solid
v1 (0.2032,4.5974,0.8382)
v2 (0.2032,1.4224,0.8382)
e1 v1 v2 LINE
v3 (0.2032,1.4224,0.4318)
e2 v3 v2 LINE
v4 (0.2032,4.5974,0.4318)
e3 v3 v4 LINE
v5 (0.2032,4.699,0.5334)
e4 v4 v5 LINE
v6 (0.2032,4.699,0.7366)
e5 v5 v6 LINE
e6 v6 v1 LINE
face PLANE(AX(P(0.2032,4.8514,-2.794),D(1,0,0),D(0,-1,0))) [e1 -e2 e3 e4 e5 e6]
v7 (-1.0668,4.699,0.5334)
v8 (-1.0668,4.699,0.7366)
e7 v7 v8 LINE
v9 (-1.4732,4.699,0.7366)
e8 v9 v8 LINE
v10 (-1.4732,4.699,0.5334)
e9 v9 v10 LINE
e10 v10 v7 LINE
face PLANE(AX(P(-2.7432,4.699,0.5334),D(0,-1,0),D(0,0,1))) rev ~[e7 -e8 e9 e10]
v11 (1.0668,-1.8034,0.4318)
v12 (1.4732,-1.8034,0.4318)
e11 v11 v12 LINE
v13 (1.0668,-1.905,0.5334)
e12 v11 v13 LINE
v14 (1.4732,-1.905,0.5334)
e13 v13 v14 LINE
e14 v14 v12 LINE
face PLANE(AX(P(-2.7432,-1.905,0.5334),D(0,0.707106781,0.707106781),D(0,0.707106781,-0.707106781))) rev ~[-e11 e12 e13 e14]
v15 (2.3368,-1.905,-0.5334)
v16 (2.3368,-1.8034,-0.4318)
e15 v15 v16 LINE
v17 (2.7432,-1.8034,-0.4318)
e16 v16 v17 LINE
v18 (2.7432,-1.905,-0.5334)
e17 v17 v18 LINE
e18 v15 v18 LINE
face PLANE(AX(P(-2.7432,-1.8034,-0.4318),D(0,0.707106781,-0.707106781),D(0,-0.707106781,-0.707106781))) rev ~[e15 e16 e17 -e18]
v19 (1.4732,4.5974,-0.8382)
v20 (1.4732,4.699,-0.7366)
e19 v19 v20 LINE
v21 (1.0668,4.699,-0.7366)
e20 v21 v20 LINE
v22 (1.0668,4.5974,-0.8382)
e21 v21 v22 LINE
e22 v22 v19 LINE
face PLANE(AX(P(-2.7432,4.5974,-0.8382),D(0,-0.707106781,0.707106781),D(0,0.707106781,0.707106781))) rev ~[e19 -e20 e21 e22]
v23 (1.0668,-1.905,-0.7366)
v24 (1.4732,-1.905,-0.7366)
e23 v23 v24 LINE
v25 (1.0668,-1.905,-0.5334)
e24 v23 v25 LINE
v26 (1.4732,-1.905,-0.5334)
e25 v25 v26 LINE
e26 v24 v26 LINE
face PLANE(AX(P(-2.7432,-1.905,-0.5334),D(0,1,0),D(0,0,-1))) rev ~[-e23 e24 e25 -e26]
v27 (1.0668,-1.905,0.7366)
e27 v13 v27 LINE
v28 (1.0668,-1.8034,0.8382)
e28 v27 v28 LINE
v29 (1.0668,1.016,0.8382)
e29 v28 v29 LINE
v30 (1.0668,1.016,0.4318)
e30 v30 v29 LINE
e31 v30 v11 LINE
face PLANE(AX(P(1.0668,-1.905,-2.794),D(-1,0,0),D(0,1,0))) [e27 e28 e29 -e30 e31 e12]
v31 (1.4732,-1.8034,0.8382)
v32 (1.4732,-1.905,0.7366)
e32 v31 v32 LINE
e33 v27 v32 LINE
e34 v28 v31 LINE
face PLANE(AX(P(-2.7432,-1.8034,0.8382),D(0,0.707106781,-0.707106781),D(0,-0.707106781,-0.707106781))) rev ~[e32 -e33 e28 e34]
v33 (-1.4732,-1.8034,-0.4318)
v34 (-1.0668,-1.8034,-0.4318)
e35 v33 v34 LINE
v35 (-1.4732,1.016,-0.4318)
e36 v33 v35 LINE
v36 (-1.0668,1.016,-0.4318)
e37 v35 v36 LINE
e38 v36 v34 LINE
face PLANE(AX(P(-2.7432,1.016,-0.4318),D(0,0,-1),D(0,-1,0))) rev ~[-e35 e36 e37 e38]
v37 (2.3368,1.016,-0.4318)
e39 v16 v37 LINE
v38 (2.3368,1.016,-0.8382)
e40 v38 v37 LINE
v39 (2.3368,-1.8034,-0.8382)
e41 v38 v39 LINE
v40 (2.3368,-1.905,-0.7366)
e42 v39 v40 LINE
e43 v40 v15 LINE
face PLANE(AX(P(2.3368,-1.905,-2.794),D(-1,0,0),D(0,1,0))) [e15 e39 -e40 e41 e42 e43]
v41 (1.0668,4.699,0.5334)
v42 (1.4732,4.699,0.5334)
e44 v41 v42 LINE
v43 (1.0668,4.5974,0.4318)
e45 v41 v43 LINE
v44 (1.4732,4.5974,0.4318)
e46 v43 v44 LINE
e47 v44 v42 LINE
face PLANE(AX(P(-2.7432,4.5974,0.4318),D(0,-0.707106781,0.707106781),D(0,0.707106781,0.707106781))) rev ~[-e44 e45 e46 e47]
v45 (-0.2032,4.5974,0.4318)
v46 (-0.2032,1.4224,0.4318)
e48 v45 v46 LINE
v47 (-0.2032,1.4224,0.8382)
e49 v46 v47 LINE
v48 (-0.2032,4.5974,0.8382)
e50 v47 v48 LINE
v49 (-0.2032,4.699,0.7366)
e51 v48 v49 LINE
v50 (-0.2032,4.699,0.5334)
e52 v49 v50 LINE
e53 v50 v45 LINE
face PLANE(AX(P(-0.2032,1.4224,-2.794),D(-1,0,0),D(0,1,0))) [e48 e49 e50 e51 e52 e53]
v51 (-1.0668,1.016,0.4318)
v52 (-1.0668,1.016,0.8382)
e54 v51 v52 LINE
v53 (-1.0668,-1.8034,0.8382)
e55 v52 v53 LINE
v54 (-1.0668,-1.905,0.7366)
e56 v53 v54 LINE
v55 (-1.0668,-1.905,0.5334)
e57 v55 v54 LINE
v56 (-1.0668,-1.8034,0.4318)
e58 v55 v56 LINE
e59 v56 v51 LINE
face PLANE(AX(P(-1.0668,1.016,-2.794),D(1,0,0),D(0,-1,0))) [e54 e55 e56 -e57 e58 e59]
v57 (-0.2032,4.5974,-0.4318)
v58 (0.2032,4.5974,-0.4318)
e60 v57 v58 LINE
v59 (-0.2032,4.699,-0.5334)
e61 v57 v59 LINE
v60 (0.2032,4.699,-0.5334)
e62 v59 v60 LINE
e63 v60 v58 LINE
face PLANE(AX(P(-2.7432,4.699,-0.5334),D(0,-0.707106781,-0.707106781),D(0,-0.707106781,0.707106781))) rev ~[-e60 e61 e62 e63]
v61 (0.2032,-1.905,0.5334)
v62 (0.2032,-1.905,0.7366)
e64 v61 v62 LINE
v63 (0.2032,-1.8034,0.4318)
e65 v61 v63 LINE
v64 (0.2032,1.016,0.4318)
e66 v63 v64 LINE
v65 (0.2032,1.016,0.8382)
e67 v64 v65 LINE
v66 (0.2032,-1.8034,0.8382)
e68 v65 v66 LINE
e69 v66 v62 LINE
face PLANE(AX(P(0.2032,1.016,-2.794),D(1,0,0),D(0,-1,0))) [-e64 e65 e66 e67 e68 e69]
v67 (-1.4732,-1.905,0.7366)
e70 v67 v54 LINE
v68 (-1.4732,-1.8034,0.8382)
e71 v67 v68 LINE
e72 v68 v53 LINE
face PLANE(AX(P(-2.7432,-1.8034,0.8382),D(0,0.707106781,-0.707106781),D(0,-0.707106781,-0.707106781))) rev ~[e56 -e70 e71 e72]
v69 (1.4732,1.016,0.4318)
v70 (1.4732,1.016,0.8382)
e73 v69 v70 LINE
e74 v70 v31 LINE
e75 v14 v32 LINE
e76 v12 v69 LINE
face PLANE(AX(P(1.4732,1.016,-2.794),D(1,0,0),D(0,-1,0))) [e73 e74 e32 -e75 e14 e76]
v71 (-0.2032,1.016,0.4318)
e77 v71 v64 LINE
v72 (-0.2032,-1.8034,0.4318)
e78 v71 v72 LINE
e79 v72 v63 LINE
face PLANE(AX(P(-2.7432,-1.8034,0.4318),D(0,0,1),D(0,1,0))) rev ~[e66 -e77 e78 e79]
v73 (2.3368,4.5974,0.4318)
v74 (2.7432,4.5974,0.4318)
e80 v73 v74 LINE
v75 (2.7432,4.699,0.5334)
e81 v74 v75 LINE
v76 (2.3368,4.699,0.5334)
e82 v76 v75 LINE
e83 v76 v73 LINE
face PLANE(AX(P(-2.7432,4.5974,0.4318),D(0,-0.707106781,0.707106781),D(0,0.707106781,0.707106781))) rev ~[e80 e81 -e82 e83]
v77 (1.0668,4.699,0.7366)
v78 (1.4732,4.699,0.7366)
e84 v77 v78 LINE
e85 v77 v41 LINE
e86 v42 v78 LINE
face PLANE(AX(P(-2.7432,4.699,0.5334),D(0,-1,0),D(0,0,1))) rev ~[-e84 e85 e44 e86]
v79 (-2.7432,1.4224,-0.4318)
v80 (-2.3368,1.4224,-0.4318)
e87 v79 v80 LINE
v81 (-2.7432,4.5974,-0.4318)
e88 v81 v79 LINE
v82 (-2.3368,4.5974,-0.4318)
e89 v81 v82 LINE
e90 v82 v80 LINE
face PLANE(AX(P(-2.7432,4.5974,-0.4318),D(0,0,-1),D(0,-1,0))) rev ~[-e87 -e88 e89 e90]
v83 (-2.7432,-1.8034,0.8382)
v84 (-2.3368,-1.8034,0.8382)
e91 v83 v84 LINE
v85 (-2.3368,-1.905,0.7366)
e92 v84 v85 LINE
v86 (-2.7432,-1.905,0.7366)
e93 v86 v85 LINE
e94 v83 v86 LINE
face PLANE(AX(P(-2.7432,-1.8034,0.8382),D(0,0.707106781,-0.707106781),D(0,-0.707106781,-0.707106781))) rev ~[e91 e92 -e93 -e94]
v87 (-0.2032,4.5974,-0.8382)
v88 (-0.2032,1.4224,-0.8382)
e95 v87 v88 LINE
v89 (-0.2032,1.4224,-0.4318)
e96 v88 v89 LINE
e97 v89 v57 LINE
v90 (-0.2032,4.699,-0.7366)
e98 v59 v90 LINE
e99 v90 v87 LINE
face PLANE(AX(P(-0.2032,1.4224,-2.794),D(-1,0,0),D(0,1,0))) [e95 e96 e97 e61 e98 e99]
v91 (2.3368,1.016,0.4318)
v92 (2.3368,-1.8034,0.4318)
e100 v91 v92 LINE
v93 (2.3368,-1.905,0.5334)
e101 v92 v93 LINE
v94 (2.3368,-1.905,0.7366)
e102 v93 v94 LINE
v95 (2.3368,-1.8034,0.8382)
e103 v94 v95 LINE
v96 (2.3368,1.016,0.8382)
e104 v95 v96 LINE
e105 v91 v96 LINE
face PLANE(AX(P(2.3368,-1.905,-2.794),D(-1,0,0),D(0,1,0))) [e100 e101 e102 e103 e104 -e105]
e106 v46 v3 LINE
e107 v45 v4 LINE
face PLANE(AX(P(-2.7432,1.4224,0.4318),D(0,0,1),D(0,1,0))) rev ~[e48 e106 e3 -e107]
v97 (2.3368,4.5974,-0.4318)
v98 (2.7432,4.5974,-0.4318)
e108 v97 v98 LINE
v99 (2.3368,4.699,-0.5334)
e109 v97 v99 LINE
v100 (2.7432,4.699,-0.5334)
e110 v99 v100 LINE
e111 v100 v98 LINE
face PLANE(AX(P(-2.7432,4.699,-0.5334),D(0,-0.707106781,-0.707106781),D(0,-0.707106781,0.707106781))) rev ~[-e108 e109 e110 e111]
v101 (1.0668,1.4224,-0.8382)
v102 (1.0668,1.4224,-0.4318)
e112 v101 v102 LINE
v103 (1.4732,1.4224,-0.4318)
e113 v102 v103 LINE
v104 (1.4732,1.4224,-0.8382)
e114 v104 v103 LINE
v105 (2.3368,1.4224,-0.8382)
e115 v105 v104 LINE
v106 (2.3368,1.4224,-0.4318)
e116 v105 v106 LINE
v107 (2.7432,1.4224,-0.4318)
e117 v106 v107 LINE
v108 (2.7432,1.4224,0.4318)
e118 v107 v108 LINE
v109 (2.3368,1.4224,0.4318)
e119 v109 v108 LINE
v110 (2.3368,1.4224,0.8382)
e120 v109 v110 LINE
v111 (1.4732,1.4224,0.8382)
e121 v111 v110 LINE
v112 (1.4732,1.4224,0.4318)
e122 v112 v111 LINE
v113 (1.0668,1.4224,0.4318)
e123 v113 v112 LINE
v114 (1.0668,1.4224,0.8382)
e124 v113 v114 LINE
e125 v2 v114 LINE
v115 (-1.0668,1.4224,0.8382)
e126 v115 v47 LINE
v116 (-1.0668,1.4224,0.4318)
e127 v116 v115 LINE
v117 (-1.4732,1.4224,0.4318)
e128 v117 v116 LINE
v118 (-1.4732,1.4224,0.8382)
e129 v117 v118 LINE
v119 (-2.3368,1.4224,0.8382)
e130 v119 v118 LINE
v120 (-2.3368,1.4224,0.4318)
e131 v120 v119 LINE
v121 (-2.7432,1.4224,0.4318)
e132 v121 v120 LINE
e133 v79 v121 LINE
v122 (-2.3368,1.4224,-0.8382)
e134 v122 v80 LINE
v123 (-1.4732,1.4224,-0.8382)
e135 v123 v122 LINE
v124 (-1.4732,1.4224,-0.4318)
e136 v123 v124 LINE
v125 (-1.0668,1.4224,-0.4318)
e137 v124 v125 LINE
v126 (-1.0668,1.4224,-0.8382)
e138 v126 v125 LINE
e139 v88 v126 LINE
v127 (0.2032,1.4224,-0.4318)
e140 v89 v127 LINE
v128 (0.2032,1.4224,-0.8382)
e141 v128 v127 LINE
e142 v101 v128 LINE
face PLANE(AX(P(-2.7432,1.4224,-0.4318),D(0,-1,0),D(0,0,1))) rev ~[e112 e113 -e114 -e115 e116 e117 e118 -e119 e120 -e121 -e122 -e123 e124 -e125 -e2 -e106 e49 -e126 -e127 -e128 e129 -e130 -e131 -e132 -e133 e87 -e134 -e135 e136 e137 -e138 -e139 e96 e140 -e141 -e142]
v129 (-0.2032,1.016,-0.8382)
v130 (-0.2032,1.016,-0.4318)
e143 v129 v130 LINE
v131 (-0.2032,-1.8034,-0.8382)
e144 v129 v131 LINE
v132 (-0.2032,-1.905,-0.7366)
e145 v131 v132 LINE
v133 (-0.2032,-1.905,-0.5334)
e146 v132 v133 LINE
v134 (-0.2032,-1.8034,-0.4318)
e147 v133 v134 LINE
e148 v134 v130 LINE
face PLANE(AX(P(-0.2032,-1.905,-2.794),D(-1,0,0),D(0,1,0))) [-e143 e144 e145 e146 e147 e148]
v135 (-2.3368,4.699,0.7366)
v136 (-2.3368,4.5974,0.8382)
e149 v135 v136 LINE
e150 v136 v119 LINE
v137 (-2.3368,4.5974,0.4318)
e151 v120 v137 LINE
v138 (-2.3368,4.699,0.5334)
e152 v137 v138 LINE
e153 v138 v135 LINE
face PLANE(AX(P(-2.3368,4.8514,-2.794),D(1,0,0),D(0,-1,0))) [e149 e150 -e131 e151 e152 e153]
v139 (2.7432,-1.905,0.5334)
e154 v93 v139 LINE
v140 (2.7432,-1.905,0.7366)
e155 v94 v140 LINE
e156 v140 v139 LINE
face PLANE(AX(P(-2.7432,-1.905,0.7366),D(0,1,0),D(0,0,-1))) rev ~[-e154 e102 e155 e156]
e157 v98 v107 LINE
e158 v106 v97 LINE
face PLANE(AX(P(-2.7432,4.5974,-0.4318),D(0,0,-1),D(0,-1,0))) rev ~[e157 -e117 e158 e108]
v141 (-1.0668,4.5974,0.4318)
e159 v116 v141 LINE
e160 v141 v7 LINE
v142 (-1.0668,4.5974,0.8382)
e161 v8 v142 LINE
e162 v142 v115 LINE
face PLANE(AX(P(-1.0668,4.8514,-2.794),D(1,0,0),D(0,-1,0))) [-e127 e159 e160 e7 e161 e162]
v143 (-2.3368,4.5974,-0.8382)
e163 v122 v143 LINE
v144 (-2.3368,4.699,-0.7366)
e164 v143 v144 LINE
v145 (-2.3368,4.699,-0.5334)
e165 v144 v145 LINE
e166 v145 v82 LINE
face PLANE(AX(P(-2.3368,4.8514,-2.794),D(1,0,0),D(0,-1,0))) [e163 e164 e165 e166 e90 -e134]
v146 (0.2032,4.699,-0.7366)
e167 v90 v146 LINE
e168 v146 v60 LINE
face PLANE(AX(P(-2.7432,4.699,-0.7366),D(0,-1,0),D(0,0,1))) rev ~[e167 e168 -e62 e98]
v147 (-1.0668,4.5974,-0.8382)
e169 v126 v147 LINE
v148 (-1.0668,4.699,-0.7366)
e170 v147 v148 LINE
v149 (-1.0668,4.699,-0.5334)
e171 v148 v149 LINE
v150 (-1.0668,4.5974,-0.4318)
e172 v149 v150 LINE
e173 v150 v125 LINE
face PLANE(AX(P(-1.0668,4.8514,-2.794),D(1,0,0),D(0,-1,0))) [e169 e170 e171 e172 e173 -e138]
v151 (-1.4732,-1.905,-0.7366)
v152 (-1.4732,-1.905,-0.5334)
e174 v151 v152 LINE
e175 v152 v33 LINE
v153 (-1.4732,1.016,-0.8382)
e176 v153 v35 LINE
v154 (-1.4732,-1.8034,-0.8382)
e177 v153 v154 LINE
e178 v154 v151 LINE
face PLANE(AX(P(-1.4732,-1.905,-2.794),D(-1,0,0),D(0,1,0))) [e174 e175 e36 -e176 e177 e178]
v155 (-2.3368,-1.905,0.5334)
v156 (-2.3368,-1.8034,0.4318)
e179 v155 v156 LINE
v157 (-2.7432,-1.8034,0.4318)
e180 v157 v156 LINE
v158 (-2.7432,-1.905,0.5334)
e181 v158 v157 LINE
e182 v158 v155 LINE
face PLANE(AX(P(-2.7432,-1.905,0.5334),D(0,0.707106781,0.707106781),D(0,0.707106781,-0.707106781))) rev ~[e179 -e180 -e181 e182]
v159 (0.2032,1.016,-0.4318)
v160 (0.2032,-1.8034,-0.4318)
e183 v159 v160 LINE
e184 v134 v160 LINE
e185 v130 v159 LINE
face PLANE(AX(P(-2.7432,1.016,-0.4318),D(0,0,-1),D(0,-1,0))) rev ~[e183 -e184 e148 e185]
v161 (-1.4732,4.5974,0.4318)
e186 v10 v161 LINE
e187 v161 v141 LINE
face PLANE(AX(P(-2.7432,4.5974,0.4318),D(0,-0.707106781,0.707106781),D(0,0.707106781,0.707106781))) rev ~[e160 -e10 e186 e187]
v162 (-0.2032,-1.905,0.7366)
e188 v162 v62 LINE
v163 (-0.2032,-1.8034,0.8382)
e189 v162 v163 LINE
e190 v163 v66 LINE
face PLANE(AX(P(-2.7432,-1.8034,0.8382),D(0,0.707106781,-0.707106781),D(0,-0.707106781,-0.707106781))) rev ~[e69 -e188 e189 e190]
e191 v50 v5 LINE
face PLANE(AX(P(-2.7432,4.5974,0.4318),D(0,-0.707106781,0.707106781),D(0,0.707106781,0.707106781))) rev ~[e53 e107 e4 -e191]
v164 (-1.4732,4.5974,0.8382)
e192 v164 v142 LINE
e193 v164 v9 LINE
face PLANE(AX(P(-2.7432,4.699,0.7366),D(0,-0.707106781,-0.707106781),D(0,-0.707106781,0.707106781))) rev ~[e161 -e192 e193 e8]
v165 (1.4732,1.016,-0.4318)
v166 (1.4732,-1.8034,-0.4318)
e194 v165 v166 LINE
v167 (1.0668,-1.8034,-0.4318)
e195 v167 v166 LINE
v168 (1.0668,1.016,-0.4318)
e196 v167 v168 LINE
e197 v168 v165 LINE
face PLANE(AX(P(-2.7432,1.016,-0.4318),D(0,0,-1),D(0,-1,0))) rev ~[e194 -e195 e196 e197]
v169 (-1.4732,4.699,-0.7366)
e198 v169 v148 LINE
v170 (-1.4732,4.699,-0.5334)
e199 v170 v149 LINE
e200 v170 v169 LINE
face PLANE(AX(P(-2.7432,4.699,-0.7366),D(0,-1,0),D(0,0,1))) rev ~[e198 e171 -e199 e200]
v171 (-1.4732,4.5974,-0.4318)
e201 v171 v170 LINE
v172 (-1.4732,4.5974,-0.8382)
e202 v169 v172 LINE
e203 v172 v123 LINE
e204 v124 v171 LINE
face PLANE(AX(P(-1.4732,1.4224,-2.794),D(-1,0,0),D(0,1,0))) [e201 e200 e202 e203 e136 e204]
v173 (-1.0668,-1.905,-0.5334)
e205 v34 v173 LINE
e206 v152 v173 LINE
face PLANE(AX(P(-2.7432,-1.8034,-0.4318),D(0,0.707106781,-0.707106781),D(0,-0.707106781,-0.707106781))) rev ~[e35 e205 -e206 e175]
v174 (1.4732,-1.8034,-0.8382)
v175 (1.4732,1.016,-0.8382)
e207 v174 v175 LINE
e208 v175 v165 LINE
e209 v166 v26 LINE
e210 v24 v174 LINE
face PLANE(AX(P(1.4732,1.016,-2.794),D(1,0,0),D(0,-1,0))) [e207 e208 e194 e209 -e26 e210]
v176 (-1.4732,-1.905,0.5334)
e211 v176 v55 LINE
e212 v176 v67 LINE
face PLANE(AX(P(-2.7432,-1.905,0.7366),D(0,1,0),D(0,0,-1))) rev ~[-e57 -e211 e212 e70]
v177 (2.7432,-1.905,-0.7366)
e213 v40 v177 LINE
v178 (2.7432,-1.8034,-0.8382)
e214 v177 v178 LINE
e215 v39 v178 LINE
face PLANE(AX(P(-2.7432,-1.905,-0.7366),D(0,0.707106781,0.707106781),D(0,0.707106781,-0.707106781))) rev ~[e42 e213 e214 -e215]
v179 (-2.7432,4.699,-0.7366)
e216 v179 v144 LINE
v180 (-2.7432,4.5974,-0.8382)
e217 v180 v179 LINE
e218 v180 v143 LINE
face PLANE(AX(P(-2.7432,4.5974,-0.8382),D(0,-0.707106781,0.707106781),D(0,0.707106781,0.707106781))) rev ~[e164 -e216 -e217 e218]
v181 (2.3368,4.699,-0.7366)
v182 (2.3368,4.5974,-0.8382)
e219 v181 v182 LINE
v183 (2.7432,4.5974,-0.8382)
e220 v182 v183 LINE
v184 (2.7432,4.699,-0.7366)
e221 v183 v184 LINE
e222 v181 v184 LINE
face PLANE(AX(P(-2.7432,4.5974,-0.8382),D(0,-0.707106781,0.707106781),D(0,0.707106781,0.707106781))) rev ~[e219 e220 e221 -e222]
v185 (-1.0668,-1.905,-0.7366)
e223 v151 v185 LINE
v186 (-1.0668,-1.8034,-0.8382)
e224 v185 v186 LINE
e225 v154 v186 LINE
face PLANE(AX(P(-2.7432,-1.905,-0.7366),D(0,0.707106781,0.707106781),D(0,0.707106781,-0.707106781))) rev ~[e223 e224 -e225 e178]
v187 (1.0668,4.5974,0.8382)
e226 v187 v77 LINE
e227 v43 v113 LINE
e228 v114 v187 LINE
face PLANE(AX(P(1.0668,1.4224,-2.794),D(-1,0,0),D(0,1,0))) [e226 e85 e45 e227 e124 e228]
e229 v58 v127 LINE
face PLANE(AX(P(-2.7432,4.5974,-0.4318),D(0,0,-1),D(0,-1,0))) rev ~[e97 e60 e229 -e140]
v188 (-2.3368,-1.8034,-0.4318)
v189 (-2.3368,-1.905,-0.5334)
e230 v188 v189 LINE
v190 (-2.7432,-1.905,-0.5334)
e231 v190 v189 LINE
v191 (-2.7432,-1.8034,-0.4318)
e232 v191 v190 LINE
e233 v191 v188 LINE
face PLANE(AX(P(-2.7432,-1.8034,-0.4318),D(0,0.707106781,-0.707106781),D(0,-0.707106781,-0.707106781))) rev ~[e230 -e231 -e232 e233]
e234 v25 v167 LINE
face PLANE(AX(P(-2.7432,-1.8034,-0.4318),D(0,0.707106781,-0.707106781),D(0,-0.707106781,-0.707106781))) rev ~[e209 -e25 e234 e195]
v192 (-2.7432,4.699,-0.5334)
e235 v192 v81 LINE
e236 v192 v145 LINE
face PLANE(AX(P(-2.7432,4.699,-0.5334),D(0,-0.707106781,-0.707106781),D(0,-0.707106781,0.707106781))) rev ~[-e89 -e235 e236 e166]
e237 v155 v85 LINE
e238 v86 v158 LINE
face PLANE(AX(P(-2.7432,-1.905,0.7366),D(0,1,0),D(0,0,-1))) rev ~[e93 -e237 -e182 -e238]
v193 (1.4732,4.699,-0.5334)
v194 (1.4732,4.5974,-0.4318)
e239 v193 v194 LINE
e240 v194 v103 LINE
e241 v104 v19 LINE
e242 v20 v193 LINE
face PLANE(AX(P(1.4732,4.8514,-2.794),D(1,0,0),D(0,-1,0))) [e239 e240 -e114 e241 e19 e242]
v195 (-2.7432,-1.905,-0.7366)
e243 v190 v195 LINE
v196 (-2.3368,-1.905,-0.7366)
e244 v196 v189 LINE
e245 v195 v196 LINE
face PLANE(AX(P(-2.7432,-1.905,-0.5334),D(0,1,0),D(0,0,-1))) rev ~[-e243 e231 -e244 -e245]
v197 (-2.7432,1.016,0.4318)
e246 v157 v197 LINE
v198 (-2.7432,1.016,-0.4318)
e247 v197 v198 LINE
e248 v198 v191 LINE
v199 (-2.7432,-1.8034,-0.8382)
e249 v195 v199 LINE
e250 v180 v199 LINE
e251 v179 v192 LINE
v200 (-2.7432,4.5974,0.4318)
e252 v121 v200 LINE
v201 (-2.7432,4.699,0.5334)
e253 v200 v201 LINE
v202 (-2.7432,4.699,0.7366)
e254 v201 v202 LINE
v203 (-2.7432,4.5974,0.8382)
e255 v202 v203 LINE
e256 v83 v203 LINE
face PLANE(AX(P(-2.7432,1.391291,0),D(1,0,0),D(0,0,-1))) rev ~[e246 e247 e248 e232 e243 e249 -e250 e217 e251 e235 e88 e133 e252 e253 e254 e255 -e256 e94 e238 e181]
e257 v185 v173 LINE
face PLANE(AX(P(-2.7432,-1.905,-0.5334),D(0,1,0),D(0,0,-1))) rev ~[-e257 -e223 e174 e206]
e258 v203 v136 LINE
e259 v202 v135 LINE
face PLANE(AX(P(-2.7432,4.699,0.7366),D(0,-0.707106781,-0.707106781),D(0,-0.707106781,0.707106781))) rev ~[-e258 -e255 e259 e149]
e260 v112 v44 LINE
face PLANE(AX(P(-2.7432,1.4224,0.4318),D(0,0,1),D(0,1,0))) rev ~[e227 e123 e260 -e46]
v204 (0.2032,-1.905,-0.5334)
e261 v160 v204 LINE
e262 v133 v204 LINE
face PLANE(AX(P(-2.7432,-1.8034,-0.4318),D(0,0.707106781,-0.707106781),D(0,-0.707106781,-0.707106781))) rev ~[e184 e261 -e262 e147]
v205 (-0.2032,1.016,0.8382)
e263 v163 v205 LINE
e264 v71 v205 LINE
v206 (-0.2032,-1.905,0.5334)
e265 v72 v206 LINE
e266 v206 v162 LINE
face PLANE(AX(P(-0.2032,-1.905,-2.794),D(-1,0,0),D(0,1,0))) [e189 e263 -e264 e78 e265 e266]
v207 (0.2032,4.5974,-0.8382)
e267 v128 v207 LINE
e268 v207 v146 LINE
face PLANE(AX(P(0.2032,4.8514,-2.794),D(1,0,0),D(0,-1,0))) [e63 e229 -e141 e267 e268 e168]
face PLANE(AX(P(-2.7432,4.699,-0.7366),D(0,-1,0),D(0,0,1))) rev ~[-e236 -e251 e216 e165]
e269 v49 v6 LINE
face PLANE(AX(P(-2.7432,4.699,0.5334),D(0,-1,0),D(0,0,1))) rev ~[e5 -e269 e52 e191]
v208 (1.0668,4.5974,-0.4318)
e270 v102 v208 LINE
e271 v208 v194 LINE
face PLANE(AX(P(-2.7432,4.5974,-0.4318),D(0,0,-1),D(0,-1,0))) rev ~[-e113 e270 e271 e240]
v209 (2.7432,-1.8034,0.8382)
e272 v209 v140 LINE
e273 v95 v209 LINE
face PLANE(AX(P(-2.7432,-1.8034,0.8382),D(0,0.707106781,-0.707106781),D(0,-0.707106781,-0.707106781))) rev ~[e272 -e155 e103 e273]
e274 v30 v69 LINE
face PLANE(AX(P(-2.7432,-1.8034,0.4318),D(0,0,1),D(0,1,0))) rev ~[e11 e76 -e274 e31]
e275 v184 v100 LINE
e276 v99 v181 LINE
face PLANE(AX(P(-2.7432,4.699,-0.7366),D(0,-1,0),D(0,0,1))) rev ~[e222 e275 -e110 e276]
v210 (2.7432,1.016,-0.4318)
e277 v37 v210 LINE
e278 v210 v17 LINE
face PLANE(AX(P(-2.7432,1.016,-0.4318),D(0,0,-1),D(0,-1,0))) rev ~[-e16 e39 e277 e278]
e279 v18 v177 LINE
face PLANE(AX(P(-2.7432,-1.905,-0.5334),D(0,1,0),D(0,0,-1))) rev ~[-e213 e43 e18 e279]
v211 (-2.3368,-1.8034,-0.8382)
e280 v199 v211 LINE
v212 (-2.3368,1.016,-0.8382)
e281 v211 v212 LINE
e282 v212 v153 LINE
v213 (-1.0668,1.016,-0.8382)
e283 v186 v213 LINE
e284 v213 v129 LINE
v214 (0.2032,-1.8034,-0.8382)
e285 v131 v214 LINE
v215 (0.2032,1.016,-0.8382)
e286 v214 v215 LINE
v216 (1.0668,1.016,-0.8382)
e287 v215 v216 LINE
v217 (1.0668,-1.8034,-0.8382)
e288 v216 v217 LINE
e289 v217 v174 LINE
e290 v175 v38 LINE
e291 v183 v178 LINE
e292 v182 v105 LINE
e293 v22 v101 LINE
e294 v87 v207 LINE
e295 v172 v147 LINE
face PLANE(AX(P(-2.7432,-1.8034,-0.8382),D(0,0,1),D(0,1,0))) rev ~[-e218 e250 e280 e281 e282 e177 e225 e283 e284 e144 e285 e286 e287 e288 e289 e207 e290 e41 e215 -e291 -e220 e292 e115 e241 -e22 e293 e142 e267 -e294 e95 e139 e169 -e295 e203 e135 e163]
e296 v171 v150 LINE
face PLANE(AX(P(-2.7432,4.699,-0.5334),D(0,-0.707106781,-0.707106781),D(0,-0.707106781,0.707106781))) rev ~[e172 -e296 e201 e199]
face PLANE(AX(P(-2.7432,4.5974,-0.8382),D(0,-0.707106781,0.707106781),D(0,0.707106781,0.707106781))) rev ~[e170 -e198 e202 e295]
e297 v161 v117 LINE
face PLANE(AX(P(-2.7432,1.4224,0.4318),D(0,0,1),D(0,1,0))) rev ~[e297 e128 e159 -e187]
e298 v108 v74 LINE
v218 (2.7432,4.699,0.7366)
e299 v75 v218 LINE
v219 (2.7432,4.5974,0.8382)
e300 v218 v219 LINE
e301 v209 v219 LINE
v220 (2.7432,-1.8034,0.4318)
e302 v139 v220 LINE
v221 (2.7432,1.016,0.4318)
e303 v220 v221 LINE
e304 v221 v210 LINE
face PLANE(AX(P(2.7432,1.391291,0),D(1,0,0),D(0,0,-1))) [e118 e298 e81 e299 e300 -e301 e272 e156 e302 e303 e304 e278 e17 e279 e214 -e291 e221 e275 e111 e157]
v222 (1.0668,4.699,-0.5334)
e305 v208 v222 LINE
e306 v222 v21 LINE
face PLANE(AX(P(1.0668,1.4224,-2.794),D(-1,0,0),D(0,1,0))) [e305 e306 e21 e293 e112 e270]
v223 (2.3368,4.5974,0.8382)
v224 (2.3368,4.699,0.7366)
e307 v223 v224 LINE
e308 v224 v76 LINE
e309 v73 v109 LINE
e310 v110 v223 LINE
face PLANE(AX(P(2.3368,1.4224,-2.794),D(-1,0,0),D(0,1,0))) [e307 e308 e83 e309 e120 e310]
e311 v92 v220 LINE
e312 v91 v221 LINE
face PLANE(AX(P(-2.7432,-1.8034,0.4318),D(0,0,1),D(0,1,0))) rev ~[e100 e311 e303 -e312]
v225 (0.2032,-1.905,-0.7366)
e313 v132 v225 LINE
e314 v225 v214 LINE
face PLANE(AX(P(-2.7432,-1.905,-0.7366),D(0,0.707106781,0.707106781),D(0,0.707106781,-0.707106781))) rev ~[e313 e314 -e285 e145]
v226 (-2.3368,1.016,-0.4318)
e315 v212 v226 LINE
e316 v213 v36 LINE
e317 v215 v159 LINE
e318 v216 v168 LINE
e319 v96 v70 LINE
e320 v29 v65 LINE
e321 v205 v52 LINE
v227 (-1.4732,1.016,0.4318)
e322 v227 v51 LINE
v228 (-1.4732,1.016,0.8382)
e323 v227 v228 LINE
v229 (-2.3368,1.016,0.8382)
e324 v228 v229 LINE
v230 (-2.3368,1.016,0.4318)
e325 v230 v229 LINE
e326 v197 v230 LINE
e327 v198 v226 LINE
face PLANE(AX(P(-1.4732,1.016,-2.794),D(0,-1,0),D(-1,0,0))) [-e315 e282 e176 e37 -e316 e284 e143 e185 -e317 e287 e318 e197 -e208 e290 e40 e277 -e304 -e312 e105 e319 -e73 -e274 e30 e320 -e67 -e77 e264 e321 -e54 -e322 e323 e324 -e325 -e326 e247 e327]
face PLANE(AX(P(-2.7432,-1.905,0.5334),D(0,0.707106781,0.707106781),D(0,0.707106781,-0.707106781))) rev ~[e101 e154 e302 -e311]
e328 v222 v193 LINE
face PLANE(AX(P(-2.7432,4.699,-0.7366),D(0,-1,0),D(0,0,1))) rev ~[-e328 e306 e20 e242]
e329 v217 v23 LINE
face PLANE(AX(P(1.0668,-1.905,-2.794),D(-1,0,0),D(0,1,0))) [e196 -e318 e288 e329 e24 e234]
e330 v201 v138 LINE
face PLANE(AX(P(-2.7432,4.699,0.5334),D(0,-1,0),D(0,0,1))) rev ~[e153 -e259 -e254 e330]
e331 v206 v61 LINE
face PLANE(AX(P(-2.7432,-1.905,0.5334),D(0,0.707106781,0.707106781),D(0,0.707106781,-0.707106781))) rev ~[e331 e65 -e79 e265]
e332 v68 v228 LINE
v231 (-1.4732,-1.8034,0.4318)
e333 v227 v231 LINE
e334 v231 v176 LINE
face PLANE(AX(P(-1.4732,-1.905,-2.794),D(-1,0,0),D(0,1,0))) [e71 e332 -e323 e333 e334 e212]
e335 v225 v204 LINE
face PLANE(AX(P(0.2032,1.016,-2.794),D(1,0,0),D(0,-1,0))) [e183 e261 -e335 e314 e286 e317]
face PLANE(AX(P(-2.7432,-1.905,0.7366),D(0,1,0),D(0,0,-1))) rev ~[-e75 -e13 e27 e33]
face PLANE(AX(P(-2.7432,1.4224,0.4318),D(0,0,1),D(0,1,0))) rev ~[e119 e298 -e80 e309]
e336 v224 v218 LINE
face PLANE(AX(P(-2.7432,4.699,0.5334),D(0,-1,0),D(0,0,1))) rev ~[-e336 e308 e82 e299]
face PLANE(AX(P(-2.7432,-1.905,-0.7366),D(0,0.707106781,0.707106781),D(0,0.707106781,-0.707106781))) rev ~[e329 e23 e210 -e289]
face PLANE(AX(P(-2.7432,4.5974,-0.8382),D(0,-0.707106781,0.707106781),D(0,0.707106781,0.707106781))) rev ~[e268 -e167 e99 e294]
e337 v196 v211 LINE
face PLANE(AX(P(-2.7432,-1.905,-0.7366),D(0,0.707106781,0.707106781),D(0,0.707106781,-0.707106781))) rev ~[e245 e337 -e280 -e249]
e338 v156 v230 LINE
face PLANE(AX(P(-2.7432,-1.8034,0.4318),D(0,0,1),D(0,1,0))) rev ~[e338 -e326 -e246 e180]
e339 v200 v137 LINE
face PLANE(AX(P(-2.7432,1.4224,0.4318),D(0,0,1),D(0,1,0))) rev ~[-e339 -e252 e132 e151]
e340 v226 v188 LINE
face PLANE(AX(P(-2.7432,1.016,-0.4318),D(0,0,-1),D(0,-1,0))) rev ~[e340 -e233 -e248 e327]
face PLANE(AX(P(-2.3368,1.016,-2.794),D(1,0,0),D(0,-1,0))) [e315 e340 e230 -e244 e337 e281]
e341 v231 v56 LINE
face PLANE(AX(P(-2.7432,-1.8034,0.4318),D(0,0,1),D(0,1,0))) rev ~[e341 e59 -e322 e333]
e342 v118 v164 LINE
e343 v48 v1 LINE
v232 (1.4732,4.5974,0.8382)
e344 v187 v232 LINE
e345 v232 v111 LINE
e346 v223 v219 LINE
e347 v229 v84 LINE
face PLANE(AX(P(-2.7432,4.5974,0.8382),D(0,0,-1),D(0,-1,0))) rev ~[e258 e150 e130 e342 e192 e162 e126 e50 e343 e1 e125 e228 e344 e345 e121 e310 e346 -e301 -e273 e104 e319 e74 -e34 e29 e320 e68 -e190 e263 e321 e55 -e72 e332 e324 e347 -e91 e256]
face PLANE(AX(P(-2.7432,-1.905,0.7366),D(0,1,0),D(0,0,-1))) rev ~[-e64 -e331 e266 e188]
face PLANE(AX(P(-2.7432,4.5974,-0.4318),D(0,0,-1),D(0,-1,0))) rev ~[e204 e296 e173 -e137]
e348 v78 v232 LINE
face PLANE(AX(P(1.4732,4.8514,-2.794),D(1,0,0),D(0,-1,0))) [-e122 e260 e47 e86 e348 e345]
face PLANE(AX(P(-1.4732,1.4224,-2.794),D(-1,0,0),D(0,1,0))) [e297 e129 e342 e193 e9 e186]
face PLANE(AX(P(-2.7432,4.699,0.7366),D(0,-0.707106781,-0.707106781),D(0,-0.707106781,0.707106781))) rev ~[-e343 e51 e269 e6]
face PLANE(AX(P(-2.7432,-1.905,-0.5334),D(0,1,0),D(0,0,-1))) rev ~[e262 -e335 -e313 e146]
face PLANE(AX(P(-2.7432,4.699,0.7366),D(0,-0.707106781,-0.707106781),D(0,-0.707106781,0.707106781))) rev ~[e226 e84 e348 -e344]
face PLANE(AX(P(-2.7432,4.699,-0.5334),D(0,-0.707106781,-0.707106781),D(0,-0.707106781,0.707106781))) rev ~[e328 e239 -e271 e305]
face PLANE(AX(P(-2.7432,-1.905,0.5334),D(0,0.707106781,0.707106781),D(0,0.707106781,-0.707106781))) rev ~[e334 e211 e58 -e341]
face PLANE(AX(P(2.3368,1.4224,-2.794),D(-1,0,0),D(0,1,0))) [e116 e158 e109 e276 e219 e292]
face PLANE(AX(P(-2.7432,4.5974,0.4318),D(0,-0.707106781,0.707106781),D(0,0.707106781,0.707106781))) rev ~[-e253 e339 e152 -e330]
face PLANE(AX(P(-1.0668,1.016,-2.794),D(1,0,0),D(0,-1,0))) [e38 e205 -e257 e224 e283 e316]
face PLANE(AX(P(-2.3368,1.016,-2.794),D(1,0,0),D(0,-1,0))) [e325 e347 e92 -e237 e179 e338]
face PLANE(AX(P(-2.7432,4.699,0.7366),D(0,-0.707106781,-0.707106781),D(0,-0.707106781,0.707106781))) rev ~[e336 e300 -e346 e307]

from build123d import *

# Parameters (mm, degrees)
BOSS_EXTRUDE1_DEPTH      = 2.7432
BOSS_EXTRUDE1_DEPTH_BACK = 2.7432
CUT_EXTRUDE1_DEPTH       = 2.794
CUT_EXTRUDE1_DEPTH_BACK  = 2.794
CUT_EXTRUDE2_DEPTH       = 2.794
CUT_EXTRUDE2_DEPTH_BACK  = 2.794


with BuildPart() as part:
    # Sketch1 → Boss-Extrude1 (new, two sides: drawn at the far end of the back side and taken through both)
    with BuildSketch(Plane(origin=(0, 0, 0), x_dir=(0, 0, -1), z_dir=(1, 0, 0)).offset(-BOSS_EXTRUDE1_DEPTH_BACK)):
        Polygon((-0.8382, -1.8034), (-0.7366, -1.905), (-0.5334, -1.905), (-0.4318, -1.8034), (-0.4318, 1.016), (0.4318, 1.016), (0.4318, -1.8034), (0.5334, -1.905), (0.7366, -1.905), (0.8382, -1.8034), (0.8382, 4.5974), (0.7366, 4.699), (0.5334, 4.699), (0.4318, 4.5974), (0.4318, 1.4224), (-0.4318, 1.4224), (-0.4318, 4.5974), (-0.5334, 4.699), (-0.7366, 4.699), (-0.8382, 4.5974), align=None)
    extrude(amount=BOSS_EXTRUDE1_DEPTH + BOSS_EXTRUDE1_DEPTH_BACK)

    # Sketch2 → Cut-Extrude1 (cut, two sides: drawn at the far end of the back side and taken through both)
    with BuildSketch(Plane.XY.offset(-CUT_EXTRUDE1_DEPTH_BACK)):
        Polygon((-3.6068, -2.413), (4.0132, -2.413), (4.0132, -1.905), (3.6068, -1.905), (3.6068, 1.016), (2.7432, 1.016), (2.7432, -1.905), (2.3368, -1.905), (2.3368, 1.016), (1.4732, 1.016), (1.4732, -1.905), (1.0668, -1.905), (1.0668, 1.016), (0.2032, 1.016), (0.2032, -1.905), (-0.2032, -1.905), (-0.2032, 1.016), (-1.0668, 1.016), (-1.0668, -1.905), (-1.4732, -1.905), (-1.4732, 1.016), (-2.3368, 1.016), (-2.3368, -1.905), (-2.7432, -1.905), (-2.7432, 1.016), (-3.6068, 1.016), align=None)
    extrude(amount=CUT_EXTRUDE1_DEPTH + CUT_EXTRUDE1_DEPTH_BACK, mode=Mode.SUBTRACT)

    # Sketch3 → Cut-Extrude2 (cut, two sides: drawn at the far end of the back side and taken through both)
    with BuildSketch(Plane.XY.offset(-CUT_EXTRUDE2_DEPTH_BACK)):
        Polygon((-3.6068, 5.3594), (-3.6068, 1.4224), (-2.7432, 1.4224), (-2.7432, 4.8514), (-2.3368, 4.8514), (-2.3368, 1.4224), (-1.4732, 1.4224), (-1.4732, 4.8514), (-1.0668, 4.8514), (-1.0668, 1.4224), (-0.2032, 1.4224), (-0.2032, 4.8514), (0.2032, 4.8514), (0.2032, 1.4224), (1.0668, 1.4224), (1.0668, 4.8514), (1.4732, 4.8514), (1.4732, 1.4224), (2.3368, 1.4224), (2.3368, 4.8514), (2.7432, 4.8514), (2.7432, 1.4224), (3.6068, 1.4224), (3.6068, 4.8514), (4.0132, 4.8514), (4.0132, 5.3594), align=None)
    extrude(amount=CUT_EXTRUDE2_DEPTH + CUT_EXTRUDE2_DEPTH_BACK, mode=Mode.SUBTRACT)


solid = part.part
